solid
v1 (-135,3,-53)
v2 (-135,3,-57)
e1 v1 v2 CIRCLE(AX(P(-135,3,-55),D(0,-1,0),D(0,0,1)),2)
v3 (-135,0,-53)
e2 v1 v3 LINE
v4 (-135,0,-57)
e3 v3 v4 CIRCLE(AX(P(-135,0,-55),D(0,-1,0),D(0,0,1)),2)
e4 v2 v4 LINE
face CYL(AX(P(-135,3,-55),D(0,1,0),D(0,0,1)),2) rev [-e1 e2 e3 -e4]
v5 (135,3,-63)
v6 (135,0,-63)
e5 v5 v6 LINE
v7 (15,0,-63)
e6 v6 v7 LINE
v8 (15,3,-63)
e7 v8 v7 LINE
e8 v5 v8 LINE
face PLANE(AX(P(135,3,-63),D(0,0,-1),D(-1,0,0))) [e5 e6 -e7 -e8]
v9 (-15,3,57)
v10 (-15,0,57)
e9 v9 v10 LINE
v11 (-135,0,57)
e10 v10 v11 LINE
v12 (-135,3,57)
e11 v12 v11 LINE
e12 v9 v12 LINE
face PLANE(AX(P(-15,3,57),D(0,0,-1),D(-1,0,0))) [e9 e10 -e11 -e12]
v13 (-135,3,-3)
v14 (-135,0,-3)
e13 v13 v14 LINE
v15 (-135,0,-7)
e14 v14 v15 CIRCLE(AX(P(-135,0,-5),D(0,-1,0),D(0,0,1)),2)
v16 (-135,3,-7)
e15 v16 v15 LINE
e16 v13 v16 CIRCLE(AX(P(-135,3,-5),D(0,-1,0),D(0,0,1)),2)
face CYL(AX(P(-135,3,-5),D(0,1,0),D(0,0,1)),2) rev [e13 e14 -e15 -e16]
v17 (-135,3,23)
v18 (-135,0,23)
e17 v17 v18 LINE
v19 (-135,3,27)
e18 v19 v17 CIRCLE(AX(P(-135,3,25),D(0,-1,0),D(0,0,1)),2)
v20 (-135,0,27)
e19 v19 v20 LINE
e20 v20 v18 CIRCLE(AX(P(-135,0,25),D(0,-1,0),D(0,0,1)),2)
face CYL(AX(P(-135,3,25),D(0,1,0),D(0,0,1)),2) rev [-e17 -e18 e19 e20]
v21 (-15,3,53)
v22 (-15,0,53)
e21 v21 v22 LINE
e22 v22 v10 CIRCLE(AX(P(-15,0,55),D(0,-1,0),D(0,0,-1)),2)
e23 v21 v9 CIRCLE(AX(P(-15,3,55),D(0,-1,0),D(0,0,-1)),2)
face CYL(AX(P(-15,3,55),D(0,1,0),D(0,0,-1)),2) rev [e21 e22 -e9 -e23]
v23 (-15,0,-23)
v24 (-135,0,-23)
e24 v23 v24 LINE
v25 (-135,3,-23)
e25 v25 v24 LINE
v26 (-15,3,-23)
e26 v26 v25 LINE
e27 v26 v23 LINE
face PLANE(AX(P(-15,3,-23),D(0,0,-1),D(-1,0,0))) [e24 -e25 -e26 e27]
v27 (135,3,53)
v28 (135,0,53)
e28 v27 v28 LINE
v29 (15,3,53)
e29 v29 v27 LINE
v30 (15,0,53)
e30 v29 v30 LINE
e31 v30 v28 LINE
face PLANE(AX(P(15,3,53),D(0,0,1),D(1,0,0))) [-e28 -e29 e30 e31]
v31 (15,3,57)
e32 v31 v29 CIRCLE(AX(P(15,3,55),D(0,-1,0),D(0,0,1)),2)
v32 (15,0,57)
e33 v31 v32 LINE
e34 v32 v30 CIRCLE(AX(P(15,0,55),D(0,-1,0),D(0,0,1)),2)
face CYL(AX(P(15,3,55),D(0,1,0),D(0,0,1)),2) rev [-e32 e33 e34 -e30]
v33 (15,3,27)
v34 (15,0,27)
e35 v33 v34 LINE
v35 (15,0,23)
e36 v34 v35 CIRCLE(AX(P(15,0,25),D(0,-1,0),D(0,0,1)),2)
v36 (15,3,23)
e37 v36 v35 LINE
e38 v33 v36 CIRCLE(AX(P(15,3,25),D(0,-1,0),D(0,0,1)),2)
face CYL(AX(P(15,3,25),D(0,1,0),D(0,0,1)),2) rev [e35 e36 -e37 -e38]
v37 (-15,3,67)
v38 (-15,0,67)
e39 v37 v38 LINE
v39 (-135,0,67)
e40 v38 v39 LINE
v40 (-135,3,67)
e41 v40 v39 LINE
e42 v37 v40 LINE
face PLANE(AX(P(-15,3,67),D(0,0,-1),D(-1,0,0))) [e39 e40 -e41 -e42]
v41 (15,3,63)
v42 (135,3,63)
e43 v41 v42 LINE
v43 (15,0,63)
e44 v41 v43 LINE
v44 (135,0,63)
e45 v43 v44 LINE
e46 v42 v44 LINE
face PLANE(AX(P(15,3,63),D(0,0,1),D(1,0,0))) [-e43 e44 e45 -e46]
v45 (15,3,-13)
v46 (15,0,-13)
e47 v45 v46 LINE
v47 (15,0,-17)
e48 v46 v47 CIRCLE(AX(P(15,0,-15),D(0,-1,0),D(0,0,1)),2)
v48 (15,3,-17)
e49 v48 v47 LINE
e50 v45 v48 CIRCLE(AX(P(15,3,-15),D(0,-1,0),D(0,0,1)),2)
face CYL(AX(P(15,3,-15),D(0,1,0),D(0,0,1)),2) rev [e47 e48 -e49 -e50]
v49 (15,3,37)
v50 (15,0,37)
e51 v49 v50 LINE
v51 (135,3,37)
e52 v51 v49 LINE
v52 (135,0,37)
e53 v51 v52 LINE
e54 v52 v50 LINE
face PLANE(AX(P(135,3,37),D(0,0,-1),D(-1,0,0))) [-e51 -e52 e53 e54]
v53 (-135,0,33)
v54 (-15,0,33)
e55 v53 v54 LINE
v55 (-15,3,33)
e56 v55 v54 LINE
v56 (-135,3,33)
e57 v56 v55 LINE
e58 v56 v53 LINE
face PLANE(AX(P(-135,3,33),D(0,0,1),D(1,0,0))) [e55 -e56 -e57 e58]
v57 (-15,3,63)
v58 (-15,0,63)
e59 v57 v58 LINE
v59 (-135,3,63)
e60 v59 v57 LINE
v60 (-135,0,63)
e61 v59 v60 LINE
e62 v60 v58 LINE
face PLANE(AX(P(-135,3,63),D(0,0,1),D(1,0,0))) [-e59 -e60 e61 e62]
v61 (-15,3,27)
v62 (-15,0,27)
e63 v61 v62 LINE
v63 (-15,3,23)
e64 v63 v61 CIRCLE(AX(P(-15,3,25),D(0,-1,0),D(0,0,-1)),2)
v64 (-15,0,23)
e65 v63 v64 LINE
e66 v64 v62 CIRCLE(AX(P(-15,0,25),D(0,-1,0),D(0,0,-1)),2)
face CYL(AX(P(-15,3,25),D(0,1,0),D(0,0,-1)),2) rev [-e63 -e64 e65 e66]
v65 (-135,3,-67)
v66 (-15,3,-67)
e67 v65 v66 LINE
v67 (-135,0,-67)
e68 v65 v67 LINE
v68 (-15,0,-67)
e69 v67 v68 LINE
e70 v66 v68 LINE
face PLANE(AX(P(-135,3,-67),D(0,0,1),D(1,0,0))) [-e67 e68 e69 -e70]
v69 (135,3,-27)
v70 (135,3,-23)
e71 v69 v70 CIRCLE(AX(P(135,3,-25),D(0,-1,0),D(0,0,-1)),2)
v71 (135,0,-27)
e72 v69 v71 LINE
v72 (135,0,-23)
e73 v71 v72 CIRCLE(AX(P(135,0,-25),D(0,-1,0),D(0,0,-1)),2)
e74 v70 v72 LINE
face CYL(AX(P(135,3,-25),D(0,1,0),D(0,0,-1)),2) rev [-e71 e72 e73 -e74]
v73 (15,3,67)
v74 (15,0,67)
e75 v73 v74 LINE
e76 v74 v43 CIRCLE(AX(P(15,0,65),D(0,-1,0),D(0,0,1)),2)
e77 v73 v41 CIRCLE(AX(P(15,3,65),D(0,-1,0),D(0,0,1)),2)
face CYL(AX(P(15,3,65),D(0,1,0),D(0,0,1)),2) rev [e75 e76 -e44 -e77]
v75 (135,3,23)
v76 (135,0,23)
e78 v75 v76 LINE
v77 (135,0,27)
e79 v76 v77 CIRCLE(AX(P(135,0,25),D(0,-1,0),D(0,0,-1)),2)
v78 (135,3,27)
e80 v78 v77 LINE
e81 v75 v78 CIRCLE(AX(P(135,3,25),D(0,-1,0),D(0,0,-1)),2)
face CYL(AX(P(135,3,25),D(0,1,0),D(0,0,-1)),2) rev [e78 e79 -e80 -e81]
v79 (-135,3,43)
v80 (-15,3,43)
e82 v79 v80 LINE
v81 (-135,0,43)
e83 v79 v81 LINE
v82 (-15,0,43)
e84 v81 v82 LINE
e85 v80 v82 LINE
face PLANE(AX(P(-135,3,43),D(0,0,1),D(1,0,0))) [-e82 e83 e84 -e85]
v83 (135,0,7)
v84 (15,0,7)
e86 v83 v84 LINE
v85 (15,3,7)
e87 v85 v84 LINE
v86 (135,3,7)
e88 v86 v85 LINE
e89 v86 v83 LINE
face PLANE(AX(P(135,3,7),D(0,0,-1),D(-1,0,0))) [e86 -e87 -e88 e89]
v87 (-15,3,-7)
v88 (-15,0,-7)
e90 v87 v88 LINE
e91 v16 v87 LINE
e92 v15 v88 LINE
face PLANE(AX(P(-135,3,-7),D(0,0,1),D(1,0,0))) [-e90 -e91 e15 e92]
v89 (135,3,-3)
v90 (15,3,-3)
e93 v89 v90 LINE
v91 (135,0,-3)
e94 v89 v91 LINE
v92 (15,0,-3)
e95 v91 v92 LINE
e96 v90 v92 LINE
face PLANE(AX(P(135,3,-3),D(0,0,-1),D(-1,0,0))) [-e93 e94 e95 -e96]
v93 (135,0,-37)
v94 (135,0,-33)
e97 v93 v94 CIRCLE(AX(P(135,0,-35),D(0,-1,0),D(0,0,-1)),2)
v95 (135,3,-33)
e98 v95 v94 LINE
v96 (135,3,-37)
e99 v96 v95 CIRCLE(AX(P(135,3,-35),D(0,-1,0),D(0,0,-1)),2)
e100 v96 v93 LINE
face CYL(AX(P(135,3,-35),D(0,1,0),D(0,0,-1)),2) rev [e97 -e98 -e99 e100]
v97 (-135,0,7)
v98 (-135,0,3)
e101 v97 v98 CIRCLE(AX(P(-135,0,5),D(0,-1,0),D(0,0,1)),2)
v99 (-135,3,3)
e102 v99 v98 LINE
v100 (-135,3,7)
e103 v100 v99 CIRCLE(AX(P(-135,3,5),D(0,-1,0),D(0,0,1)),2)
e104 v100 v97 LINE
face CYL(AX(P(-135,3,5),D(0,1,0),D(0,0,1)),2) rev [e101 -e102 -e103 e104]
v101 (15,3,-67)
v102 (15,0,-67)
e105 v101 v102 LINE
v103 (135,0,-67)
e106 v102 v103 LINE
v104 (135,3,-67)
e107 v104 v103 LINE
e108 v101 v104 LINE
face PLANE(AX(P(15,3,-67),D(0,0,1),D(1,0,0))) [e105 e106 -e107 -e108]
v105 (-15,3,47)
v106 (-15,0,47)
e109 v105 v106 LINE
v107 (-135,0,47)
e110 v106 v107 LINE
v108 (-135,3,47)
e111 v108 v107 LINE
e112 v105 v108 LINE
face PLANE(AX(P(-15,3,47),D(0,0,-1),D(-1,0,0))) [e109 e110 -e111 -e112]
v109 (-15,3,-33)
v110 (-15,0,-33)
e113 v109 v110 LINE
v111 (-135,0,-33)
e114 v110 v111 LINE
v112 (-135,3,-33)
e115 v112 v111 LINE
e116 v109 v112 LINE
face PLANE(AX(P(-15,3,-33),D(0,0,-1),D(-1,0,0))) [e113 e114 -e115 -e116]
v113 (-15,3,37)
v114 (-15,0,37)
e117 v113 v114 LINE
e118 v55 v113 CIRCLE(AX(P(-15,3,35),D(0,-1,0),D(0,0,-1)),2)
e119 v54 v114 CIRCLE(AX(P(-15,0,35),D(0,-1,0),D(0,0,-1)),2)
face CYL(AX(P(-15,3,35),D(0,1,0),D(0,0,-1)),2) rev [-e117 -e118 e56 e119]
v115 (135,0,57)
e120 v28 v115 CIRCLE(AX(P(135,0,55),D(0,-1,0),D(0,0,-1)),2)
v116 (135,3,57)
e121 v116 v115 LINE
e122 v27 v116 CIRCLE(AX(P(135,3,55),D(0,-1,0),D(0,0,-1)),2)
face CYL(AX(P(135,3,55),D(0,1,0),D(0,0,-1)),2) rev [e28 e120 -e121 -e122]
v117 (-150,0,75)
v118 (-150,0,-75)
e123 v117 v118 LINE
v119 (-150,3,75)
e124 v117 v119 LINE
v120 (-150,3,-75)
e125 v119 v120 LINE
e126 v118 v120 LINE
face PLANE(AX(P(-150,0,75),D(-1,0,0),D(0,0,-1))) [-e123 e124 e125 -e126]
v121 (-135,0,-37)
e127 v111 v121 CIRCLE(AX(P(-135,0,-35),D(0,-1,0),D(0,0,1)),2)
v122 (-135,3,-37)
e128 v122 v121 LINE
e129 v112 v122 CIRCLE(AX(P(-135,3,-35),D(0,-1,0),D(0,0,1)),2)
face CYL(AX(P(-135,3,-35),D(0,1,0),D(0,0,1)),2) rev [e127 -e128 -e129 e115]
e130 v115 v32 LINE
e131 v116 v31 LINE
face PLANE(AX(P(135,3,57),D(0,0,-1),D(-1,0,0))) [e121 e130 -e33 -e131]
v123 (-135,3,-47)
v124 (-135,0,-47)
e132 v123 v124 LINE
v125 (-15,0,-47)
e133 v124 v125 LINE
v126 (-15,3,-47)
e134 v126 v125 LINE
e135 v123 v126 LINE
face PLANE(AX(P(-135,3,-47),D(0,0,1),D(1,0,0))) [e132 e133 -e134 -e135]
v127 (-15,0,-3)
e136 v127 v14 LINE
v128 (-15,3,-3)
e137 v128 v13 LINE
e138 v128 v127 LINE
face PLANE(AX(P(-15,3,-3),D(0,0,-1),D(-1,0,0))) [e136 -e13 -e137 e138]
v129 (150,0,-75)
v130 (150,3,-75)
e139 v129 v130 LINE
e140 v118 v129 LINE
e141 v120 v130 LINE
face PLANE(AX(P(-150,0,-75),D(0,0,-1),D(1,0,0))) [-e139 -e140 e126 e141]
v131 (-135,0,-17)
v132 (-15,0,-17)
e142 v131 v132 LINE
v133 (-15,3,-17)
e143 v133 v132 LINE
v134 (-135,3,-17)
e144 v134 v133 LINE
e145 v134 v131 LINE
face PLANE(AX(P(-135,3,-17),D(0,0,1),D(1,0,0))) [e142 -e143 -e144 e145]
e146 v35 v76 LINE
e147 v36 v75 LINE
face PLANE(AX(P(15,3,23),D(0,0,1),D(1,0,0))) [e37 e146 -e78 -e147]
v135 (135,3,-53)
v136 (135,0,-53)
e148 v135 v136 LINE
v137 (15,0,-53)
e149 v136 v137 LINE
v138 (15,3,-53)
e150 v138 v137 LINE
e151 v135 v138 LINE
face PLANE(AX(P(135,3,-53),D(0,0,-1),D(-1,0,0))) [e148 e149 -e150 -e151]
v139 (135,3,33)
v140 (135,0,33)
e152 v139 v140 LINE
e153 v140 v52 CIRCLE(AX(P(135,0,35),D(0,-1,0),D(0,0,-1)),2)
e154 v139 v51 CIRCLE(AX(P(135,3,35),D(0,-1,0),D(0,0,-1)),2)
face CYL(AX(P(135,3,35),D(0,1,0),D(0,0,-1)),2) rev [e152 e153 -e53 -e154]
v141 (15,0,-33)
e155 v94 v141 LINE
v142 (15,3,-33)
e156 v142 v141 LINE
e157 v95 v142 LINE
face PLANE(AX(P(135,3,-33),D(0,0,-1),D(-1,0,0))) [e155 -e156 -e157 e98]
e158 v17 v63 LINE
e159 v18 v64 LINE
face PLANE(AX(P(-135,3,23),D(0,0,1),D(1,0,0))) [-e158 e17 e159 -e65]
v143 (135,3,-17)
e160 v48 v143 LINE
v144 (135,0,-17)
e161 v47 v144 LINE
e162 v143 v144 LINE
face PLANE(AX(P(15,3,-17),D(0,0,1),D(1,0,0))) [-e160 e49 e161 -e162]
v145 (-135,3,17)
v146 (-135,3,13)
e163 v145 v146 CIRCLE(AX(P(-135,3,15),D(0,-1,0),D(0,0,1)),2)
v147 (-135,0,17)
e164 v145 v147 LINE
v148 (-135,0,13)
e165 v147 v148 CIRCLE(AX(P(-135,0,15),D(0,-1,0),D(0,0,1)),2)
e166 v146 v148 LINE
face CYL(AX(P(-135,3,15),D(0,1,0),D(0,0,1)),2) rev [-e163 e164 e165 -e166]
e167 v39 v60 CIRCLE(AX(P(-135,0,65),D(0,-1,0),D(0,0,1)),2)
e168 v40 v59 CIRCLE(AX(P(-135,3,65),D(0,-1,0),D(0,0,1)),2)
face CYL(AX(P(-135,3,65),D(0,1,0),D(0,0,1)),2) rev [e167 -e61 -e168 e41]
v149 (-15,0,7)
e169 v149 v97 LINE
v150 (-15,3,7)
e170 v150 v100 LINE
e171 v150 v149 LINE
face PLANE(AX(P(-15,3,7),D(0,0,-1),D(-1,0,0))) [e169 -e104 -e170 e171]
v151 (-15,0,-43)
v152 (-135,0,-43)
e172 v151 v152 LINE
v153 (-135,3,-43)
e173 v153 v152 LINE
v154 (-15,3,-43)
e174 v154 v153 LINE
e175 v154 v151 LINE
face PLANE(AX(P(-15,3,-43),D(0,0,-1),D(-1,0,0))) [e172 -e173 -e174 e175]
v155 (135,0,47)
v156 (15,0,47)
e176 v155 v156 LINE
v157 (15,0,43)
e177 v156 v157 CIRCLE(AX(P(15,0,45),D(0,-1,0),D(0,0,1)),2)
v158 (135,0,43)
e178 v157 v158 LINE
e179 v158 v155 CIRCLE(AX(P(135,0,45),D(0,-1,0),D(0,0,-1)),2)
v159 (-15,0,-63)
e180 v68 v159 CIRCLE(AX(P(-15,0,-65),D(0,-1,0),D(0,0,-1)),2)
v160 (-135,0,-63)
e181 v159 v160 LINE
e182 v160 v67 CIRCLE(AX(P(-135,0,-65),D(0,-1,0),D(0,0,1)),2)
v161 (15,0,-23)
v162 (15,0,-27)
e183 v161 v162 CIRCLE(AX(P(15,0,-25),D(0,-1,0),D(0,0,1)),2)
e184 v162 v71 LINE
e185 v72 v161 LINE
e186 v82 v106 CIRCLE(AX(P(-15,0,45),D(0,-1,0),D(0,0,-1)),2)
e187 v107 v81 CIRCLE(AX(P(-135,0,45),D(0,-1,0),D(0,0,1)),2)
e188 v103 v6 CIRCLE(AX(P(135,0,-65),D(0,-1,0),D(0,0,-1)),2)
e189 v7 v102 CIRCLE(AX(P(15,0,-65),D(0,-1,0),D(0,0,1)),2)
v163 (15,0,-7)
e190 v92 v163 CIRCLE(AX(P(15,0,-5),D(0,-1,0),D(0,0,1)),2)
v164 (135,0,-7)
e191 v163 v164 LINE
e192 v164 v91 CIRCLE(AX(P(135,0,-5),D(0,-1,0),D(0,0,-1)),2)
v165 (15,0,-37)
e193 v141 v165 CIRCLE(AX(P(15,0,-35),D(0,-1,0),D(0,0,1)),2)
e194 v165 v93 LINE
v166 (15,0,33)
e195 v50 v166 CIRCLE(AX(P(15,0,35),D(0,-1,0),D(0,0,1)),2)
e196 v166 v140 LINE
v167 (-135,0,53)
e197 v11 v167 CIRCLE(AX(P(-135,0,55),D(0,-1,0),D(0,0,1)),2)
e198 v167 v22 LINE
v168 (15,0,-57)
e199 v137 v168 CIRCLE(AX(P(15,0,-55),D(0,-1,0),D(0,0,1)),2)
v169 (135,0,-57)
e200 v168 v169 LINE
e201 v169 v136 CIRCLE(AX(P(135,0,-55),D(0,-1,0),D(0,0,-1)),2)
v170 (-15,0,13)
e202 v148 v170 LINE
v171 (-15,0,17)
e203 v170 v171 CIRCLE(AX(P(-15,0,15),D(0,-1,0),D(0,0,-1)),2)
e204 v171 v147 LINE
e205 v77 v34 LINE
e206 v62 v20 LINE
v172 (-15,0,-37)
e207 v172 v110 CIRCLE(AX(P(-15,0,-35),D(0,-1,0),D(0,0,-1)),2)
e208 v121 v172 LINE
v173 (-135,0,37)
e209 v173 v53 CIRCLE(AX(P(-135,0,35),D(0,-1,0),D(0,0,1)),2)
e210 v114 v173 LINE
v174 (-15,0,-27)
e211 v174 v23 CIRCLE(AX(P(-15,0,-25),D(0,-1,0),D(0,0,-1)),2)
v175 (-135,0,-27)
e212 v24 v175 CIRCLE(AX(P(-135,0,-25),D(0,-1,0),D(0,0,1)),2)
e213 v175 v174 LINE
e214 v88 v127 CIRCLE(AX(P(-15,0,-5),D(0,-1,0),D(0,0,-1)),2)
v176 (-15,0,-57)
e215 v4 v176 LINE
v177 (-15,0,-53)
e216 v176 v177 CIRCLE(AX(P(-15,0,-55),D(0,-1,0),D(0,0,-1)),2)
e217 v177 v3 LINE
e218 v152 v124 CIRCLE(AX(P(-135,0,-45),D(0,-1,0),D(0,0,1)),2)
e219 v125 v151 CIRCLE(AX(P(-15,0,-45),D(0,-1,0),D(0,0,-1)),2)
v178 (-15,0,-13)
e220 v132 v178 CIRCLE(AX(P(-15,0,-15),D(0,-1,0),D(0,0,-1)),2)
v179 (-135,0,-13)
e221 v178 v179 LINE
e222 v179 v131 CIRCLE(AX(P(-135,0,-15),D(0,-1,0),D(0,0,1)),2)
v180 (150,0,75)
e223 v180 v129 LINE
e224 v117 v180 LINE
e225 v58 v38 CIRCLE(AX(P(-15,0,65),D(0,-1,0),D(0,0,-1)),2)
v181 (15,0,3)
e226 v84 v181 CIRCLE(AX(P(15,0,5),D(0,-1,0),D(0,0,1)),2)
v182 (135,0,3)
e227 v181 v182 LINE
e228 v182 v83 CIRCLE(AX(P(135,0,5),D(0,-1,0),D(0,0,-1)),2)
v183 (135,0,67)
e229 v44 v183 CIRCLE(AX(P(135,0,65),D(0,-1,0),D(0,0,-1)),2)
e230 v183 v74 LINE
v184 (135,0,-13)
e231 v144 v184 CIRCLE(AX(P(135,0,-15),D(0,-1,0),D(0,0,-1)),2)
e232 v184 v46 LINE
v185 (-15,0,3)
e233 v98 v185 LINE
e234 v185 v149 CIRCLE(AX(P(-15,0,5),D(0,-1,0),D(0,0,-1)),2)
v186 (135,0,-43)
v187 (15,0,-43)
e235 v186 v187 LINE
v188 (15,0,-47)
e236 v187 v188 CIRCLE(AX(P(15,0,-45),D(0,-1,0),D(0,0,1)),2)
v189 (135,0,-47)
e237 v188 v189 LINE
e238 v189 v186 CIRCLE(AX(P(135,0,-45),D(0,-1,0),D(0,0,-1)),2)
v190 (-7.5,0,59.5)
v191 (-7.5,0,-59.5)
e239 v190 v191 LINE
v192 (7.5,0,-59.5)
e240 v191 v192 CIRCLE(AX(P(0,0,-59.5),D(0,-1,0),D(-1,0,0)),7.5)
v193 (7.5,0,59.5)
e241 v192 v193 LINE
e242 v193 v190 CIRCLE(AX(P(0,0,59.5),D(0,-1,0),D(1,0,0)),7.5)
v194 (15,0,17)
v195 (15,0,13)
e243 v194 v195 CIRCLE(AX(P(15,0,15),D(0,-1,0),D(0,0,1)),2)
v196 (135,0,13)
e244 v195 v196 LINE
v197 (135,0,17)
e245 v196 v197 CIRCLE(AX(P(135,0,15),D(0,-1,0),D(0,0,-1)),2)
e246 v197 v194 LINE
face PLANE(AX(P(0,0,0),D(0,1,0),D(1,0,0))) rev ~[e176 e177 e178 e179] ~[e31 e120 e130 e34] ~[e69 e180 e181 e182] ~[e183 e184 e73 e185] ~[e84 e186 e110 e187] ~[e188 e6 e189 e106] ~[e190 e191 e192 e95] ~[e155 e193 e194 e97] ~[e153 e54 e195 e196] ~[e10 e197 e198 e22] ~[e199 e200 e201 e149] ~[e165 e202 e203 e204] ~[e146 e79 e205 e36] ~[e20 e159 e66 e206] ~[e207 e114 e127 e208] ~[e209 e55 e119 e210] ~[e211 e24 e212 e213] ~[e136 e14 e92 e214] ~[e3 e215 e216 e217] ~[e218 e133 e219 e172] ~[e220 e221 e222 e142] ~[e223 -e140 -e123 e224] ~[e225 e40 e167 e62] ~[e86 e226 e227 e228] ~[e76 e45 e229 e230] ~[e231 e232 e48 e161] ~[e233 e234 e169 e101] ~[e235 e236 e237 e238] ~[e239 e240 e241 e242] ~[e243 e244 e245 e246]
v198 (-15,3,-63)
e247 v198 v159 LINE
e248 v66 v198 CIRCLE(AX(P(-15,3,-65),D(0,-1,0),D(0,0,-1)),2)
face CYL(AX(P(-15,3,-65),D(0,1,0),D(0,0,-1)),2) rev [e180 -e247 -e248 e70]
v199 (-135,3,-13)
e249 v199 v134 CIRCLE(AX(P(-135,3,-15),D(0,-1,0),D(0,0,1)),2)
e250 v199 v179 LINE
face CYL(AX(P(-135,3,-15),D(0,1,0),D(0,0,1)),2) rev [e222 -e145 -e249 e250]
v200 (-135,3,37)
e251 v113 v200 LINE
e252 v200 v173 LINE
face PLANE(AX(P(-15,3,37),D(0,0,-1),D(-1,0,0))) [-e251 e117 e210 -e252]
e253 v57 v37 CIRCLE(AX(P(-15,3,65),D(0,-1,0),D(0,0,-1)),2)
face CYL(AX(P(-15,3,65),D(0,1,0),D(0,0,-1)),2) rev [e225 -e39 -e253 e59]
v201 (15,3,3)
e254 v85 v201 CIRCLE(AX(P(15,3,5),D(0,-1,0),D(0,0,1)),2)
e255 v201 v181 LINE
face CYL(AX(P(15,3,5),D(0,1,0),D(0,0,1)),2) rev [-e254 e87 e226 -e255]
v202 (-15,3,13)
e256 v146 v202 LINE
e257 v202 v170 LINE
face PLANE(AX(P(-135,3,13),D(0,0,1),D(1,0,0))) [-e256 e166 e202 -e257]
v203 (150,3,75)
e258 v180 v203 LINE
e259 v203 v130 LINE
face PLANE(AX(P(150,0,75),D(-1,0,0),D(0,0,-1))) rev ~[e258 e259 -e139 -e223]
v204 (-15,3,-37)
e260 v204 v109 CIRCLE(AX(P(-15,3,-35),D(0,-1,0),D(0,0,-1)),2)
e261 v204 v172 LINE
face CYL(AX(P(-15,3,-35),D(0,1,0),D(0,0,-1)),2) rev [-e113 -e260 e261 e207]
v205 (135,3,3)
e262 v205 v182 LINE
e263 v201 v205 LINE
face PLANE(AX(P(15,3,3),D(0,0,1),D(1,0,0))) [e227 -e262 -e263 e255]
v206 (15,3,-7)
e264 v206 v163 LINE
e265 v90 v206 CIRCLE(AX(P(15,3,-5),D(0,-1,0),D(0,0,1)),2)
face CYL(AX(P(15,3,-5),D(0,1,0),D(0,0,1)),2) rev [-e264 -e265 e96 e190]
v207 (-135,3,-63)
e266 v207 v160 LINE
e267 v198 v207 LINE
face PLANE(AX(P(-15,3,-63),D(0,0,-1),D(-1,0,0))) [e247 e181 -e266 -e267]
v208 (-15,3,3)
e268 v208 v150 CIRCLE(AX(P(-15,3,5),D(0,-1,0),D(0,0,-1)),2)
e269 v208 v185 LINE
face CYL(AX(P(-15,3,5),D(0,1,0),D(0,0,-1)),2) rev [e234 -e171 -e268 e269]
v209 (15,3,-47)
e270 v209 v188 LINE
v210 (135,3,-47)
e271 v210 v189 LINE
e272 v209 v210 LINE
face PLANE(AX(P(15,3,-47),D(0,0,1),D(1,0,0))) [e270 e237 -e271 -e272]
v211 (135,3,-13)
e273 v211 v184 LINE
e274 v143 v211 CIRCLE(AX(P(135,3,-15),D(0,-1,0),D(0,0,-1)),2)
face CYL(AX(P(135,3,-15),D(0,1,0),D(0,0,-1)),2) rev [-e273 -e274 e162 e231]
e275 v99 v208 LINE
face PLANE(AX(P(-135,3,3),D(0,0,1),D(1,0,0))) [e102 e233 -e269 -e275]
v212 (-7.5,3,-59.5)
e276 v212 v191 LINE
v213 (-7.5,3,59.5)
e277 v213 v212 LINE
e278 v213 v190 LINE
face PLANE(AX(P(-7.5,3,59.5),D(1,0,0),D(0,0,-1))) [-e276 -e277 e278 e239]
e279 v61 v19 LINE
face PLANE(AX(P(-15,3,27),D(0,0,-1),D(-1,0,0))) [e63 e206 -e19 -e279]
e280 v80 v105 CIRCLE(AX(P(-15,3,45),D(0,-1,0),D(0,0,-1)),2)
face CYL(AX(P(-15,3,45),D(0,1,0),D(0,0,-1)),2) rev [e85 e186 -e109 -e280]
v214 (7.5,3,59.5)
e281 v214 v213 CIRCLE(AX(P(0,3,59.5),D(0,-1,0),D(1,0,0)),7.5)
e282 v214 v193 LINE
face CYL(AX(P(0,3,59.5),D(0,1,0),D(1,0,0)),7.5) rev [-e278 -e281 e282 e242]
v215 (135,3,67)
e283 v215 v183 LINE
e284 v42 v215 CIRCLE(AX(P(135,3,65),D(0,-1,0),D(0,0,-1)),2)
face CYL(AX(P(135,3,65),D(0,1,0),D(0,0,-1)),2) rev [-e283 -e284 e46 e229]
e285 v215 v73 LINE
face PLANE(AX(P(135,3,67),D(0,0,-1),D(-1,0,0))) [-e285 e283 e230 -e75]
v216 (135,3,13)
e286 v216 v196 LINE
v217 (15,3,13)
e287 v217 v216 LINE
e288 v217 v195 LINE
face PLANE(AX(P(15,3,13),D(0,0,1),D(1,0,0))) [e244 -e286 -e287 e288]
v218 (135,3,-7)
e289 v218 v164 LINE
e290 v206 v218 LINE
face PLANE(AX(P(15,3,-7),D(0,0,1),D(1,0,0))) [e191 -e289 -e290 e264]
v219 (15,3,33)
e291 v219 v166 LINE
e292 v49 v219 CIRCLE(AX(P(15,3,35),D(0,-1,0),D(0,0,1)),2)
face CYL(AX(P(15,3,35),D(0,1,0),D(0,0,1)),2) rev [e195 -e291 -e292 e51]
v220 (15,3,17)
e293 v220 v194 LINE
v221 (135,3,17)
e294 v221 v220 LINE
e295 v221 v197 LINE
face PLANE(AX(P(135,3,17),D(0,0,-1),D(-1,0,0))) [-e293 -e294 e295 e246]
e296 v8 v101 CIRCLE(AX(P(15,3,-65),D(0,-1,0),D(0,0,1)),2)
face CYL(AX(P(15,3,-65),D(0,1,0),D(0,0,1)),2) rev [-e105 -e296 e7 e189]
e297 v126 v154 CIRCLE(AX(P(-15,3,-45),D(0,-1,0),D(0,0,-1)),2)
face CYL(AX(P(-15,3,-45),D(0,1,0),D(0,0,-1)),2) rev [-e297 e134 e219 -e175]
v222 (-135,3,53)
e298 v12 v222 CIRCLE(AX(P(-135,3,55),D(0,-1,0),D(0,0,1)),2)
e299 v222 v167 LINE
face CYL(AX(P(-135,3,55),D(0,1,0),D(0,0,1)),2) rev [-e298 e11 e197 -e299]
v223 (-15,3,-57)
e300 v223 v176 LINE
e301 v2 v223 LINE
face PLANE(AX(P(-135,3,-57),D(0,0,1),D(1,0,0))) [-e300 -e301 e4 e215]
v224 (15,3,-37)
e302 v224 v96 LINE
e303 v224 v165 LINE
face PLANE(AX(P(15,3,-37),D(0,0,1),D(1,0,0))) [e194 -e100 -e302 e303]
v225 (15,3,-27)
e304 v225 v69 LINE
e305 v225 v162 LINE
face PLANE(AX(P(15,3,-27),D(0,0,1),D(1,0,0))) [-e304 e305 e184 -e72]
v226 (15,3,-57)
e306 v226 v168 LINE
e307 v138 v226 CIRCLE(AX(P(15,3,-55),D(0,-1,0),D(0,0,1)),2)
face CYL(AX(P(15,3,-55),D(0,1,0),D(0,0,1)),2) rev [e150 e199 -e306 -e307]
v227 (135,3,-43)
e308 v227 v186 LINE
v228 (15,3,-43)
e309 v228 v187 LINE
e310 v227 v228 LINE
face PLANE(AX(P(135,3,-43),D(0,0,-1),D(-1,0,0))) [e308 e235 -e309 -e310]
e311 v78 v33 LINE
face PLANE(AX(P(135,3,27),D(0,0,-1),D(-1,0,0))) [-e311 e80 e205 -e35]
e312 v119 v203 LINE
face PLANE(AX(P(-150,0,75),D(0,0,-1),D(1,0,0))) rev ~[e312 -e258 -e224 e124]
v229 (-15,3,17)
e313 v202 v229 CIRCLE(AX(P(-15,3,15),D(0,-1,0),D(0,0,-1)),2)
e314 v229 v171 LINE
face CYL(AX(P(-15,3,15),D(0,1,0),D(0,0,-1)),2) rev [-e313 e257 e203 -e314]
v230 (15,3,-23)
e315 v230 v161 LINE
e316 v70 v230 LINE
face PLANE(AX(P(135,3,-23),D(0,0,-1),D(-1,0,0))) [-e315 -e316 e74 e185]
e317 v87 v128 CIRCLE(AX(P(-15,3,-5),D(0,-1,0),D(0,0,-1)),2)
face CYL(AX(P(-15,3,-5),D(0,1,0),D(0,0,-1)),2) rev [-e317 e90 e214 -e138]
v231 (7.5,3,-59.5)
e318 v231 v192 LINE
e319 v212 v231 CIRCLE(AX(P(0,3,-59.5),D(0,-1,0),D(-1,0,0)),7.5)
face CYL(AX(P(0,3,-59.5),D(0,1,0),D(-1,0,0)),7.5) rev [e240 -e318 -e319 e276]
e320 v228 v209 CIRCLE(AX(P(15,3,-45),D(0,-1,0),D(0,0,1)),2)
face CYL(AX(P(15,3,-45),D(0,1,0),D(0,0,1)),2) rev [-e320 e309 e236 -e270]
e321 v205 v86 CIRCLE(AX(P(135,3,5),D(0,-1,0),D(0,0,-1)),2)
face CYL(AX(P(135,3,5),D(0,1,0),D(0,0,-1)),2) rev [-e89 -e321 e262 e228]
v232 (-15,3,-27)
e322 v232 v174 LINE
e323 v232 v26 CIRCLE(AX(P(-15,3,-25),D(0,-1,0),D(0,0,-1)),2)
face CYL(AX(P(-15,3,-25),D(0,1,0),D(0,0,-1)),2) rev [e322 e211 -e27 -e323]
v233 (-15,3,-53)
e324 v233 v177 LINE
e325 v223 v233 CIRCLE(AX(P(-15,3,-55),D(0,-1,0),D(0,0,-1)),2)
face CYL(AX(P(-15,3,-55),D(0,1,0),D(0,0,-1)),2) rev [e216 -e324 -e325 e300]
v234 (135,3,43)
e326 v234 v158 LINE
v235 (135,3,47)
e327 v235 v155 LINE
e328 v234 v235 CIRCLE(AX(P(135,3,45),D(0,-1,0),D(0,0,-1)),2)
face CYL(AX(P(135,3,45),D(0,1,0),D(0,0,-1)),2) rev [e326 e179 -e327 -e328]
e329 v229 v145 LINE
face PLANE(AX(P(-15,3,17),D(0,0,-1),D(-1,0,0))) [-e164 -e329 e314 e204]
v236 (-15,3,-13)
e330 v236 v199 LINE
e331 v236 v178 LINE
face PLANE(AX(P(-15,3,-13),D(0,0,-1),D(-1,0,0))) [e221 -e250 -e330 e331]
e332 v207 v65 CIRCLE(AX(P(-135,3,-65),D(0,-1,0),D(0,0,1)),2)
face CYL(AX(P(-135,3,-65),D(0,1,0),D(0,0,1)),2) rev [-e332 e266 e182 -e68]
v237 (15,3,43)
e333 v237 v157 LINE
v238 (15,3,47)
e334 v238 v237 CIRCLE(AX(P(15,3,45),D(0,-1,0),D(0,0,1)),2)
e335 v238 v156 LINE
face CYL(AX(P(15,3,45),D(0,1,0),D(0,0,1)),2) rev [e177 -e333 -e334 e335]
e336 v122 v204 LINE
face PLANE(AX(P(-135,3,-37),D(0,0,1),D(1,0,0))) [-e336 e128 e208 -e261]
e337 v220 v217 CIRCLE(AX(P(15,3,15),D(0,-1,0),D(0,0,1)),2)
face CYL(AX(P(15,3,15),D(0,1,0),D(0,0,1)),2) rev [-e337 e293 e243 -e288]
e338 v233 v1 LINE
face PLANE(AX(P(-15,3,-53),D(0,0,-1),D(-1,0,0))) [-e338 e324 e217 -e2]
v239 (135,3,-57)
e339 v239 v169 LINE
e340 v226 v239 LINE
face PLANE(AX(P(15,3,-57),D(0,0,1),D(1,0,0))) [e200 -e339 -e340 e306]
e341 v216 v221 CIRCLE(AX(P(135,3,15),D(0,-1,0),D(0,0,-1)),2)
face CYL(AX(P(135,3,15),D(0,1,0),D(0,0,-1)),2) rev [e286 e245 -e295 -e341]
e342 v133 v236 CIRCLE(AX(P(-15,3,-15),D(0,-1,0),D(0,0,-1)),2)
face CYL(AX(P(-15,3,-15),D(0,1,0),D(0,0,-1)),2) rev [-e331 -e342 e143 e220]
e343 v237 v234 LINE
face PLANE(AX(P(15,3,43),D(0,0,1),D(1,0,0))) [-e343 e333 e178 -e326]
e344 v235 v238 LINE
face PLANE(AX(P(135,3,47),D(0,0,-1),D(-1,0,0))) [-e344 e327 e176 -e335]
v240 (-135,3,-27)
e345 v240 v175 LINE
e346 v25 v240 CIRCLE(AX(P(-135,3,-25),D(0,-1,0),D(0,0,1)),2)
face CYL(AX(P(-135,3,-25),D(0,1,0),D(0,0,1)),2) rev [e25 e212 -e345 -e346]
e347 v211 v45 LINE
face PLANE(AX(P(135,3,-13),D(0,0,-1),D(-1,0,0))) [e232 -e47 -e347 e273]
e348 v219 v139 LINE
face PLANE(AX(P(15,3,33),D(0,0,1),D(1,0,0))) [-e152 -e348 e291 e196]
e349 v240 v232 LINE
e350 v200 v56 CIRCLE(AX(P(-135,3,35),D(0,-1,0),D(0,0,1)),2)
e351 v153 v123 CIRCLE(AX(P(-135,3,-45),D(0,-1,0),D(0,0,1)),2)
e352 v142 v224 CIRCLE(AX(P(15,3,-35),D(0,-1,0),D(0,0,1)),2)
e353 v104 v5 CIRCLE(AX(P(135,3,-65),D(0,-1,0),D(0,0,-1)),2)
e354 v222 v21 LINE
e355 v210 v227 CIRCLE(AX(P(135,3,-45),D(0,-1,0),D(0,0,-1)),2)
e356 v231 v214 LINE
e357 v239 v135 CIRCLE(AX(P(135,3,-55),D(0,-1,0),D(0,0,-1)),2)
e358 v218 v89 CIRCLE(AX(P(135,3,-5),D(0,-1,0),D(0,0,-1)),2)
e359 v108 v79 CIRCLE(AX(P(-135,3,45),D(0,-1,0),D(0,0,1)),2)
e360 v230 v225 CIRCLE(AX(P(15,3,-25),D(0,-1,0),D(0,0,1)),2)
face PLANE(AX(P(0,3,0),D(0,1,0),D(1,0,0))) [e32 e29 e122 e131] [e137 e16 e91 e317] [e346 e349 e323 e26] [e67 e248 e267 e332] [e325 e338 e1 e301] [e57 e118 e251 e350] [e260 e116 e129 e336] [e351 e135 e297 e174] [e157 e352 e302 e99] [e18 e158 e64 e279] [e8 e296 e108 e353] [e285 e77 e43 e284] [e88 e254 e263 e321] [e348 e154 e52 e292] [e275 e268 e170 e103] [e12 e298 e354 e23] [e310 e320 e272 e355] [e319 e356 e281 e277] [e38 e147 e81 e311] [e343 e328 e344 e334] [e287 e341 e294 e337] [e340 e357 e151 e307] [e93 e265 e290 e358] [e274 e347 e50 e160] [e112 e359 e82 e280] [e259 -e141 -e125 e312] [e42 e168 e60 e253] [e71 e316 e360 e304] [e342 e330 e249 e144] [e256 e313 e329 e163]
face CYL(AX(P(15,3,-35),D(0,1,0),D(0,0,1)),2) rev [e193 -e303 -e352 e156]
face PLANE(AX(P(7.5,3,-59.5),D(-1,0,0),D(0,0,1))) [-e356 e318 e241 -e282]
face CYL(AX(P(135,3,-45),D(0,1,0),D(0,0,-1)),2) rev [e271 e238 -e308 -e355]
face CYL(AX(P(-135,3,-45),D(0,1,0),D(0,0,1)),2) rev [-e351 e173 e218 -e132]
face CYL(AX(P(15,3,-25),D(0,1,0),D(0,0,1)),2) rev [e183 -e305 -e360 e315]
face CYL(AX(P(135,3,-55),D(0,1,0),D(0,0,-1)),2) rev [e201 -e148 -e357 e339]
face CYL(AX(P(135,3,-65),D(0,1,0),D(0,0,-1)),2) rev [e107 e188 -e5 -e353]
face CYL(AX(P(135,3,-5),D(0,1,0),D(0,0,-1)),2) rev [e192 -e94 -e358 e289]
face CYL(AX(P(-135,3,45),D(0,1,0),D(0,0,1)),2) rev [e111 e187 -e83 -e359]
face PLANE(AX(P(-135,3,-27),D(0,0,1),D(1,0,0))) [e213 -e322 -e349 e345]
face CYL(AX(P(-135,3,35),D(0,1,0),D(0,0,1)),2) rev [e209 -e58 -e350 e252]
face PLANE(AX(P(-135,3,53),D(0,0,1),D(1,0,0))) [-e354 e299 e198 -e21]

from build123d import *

# Parameters (mm, degrees)
SKETCH1_W           = 300
SKETCH1_H           = 150
BOSS_EXTRUDE1_DEPTH = 3
CUT_EXTRUDE1_DEPTH  = 3


with BuildPart() as part:
    # Sketch1 → Boss-Extrude1 (new body)
    with BuildSketch(Plane(origin=(0, 0, 0), x_dir=(1, 0, 0), z_dir=(0, 1, 0))):
        Rectangle(SKETCH1_W, SKETCH1_H)
    extrude(amount=BOSS_EXTRUDE1_DEPTH)

    # Sketch2 → Cut-Extrude1 (cut)
    with BuildSketch(Plane(origin=(0, 3, 0), x_dir=(1, 0, 0), z_dir=(0, 1, 0))):
        with BuildLine():
            Line((-135, 67), (-15, 67))
            ThreePointArc((-15, 67), (-13, 65), (-15, 63))
            Line((-15, 63), (-135, 63))
            ThreePointArc((-135, 63), (-137, 65), (-135, 67))
        make_face()
        with BuildLine():
            Line((15, 67), (135, 67))
            ThreePointArc((135, 67), (137, 65), (135, 63))
            Line((135, 63), (15, 63))
            ThreePointArc((15, 63), (13, 65), (15, 67))
        make_face()
        with BuildLine():
            Line((15, 57), (135, 57))
            ThreePointArc((135, 57), (137, 55), (135, 53))
            Line((135, 53), (15, 53))
            ThreePointArc((15, 53), (13, 55), (15, 57))
        make_face()
        with BuildLine():
            Line((15, 47), (135, 47))
            ThreePointArc((135, 47), (137, 45), (135, 43))
            Line((135, 43), (15, 43))
            ThreePointArc((15, 43), (13, 45), (15, 47))
        make_face()
        with BuildLine():
            Line((15, 37), (135, 37))
            ThreePointArc((135, 37), (137, 35), (135, 33))
            Line((135, 33), (15, 33))
            ThreePointArc((15, 33), (13, 35), (15, 37))
        make_face()
        with BuildLine():
            Line((15, 27), (135, 27))
            ThreePointArc((135, 27), (137, 25), (135, 23))
            Line((135, 23), (15, 23))
            ThreePointArc((15, 23), (13, 25), (15, 27))
        make_face()
        with BuildLine():
            Line((15, 17), (135, 17))
            ThreePointArc((135, 17), (137, 15), (135, 13))
            Line((135, 13), (15, 13))
            ThreePointArc((15, 13), (13, 15), (15, 17))
        make_face()
        with BuildLine():
            Line((15, 7), (135, 7))
            ThreePointArc((135, 7), (137, 5), (135, 3))
            Line((135, 3), (15, 3))
            ThreePointArc((15, 3), (13, 5), (15, 7))
        make_face()
        with BuildLine():
            Line((15, -3), (135, -3))
            ThreePointArc((135, -3), (137, -5), (135, -7))
            Line((135, -7), (15, -7))
            ThreePointArc((15, -7), (13, -5), (15, -3))
        make_face()
        with BuildLine():
            Line((15, -13), (135, -13))
            ThreePointArc((135, -13), (137, -15), (135, -17))
            Line((135, -17), (15, -17))
            ThreePointArc((15, -17), (13, -15), (15, -13))
        make_face()
        with BuildLine():
            Line((15, -23), (135, -23))
            ThreePointArc((135, -23), (137, -25), (135, -27))
            Line((135, -27), (15, -27))
            ThreePointArc((15, -27), (13, -25), (15, -23))
        make_face()
        with BuildLine():
            Line((15, -33), (135, -33))
            ThreePointArc((135, -33), (137, -35), (135, -37))
            Line((135, -37), (15, -37))
            ThreePointArc((15, -37), (13, -35), (15, -33))
        make_face()
        with BuildLine():
            Line((15, -43), (135, -43))
            ThreePointArc((135, -43), (137, -45), (135, -47))
            Line((135, -47), (15, -47))
            ThreePointArc((15, -47), (13, -45), (15, -43))
        make_face()
        with BuildLine():
            Line((15, -53), (135, -53))
            ThreePointArc((135, -53), (137, -55), (135, -57))
            Line((135, -57), (15, -57))
            ThreePointArc((15, -57), (13, -55), (15, -53))
        make_face()
        with BuildLine():
            Line((15, -63), (135, -63))
            ThreePointArc((135, -63), (137, -65), (135, -67))
            Line((135, -67), (15, -67))
            ThreePointArc((15, -67), (13, -65), (15, -63))
        make_face()
        with BuildLine():
            Line((-135, 57), (-15, 57))
            ThreePointArc((-15, 57), (-13, 55), (-15, 53))
            Line((-15, 53), (-135, 53))
            ThreePointArc((-135, 53), (-137, 55), (-135, 57))
        make_face()
        with BuildLine():
            Line((-135, 47), (-15, 47))
            ThreePointArc((-15, 47), (-13, 45), (-15, 43))
            Line((-15, 43), (-135, 43))
            ThreePointArc((-135, 43), (-137, 45), (-135, 47))
        make_face()
        with BuildLine():
            Line((-135, 37), (-15, 37))
            ThreePointArc((-15, 37), (-13, 35), (-15, 33))
            Line((-15, 33), (-135, 33))
            ThreePointArc((-135, 33), (-137, 35), (-135, 37))
        make_face()
        with BuildLine():
            Line((-135, 27), (-15, 27))
            ThreePointArc((-15, 27), (-13, 25), (-15, 23))
            Line((-15, 23), (-135, 23))
            ThreePointArc((-135, 23), (-137, 25), (-135, 27))
        make_face()
        with BuildLine():
            Line((-135, 17), (-15, 17))
            ThreePointArc((-15, 17), (-13, 15), (-15, 13))
            Line((-15, 13), (-135, 13))
            ThreePointArc((-135, 13), (-137, 15), (-135, 17))
        make_face()
        with BuildLine():
            Line((-135, 7), (-15, 7))
            ThreePointArc((-15, 7), (-13, 5), (-15, 3))
            Line((-15, 3), (-135, 3))
            ThreePointArc((-135, 3), (-137, 5), (-135, 7))
        make_face()
        with BuildLine():
            Line((-135, -3), (-15, -3))
            ThreePointArc((-15, -3), (-13, -5), (-15, -7))
            Line((-15, -7), (-135, -7))
            ThreePointArc((-135, -7), (-137, -5), (-135, -3))
        make_face()
        with BuildLine():
            Line((-135, -13), (-15, -13))
            ThreePointArc((-15, -13), (-13, -15), (-15, -17))
            Line((-15, -17), (-135, -17))
            ThreePointArc((-135, -17), (-137, -15), (-135, -13))
        make_face()
        with BuildLine():
            Line((-135, -23), (-15, -23))
            ThreePointArc((-15, -23), (-13, -25), (-15, -27))
            Line((-15, -27), (-135, -27))
            ThreePointArc((-135, -27), (-137, -25), (-135, -23))
        make_face()
        with BuildLine():
            Line((-135, -33), (-15, -33))
            ThreePointArc((-15, -33), (-13, -35), (-15, -37))
            Line((-15, -37), (-135, -37))
            ThreePointArc((-135, -37), (-137, -35), (-135, -33))
        make_face()
        with BuildLine():
            Line((-135, -43), (-15, -43))
            ThreePointArc((-15, -43), (-13, -45), (-15, -47))
            Line((-15, -47), (-135, -47))
            ThreePointArc((-135, -47), (-137, -45), (-135, -43))
        make_face()
        with BuildLine():
            Line((-135, -53), (-15, -53))
            ThreePointArc((-15, -53), (-13, -55), (-15, -57))
            Line((-15, -57), (-135, -57))
            ThreePointArc((-135, -57), (-137, -55), (-135, -53))
        make_face()
        with BuildLine():
            Line((-135, -63), (-15, -63))
            ThreePointArc((-15, -63), (-13, -65), (-15, -67))
            Line((-15, -67), (-135, -67))
            ThreePointArc((-135, -67), (-137, -65), (-135, -63))
        make_face()
        with BuildLine():
            Line((-7.5, -59.5), (-7.5, 59.5))
            ThreePointArc((-7.5, 59.5), (0, 67), (7.5, 59.5))
            Line((7.5, 59.5), (7.5, -59.5))
            ThreePointArc((7.5, -59.5), (0, -67), (-7.5, -59.5))
        make_face()
    extrude(amount=-CUT_EXTRUDE1_DEPTH, mode=Mode.SUBTRACT)


solid = part.part
